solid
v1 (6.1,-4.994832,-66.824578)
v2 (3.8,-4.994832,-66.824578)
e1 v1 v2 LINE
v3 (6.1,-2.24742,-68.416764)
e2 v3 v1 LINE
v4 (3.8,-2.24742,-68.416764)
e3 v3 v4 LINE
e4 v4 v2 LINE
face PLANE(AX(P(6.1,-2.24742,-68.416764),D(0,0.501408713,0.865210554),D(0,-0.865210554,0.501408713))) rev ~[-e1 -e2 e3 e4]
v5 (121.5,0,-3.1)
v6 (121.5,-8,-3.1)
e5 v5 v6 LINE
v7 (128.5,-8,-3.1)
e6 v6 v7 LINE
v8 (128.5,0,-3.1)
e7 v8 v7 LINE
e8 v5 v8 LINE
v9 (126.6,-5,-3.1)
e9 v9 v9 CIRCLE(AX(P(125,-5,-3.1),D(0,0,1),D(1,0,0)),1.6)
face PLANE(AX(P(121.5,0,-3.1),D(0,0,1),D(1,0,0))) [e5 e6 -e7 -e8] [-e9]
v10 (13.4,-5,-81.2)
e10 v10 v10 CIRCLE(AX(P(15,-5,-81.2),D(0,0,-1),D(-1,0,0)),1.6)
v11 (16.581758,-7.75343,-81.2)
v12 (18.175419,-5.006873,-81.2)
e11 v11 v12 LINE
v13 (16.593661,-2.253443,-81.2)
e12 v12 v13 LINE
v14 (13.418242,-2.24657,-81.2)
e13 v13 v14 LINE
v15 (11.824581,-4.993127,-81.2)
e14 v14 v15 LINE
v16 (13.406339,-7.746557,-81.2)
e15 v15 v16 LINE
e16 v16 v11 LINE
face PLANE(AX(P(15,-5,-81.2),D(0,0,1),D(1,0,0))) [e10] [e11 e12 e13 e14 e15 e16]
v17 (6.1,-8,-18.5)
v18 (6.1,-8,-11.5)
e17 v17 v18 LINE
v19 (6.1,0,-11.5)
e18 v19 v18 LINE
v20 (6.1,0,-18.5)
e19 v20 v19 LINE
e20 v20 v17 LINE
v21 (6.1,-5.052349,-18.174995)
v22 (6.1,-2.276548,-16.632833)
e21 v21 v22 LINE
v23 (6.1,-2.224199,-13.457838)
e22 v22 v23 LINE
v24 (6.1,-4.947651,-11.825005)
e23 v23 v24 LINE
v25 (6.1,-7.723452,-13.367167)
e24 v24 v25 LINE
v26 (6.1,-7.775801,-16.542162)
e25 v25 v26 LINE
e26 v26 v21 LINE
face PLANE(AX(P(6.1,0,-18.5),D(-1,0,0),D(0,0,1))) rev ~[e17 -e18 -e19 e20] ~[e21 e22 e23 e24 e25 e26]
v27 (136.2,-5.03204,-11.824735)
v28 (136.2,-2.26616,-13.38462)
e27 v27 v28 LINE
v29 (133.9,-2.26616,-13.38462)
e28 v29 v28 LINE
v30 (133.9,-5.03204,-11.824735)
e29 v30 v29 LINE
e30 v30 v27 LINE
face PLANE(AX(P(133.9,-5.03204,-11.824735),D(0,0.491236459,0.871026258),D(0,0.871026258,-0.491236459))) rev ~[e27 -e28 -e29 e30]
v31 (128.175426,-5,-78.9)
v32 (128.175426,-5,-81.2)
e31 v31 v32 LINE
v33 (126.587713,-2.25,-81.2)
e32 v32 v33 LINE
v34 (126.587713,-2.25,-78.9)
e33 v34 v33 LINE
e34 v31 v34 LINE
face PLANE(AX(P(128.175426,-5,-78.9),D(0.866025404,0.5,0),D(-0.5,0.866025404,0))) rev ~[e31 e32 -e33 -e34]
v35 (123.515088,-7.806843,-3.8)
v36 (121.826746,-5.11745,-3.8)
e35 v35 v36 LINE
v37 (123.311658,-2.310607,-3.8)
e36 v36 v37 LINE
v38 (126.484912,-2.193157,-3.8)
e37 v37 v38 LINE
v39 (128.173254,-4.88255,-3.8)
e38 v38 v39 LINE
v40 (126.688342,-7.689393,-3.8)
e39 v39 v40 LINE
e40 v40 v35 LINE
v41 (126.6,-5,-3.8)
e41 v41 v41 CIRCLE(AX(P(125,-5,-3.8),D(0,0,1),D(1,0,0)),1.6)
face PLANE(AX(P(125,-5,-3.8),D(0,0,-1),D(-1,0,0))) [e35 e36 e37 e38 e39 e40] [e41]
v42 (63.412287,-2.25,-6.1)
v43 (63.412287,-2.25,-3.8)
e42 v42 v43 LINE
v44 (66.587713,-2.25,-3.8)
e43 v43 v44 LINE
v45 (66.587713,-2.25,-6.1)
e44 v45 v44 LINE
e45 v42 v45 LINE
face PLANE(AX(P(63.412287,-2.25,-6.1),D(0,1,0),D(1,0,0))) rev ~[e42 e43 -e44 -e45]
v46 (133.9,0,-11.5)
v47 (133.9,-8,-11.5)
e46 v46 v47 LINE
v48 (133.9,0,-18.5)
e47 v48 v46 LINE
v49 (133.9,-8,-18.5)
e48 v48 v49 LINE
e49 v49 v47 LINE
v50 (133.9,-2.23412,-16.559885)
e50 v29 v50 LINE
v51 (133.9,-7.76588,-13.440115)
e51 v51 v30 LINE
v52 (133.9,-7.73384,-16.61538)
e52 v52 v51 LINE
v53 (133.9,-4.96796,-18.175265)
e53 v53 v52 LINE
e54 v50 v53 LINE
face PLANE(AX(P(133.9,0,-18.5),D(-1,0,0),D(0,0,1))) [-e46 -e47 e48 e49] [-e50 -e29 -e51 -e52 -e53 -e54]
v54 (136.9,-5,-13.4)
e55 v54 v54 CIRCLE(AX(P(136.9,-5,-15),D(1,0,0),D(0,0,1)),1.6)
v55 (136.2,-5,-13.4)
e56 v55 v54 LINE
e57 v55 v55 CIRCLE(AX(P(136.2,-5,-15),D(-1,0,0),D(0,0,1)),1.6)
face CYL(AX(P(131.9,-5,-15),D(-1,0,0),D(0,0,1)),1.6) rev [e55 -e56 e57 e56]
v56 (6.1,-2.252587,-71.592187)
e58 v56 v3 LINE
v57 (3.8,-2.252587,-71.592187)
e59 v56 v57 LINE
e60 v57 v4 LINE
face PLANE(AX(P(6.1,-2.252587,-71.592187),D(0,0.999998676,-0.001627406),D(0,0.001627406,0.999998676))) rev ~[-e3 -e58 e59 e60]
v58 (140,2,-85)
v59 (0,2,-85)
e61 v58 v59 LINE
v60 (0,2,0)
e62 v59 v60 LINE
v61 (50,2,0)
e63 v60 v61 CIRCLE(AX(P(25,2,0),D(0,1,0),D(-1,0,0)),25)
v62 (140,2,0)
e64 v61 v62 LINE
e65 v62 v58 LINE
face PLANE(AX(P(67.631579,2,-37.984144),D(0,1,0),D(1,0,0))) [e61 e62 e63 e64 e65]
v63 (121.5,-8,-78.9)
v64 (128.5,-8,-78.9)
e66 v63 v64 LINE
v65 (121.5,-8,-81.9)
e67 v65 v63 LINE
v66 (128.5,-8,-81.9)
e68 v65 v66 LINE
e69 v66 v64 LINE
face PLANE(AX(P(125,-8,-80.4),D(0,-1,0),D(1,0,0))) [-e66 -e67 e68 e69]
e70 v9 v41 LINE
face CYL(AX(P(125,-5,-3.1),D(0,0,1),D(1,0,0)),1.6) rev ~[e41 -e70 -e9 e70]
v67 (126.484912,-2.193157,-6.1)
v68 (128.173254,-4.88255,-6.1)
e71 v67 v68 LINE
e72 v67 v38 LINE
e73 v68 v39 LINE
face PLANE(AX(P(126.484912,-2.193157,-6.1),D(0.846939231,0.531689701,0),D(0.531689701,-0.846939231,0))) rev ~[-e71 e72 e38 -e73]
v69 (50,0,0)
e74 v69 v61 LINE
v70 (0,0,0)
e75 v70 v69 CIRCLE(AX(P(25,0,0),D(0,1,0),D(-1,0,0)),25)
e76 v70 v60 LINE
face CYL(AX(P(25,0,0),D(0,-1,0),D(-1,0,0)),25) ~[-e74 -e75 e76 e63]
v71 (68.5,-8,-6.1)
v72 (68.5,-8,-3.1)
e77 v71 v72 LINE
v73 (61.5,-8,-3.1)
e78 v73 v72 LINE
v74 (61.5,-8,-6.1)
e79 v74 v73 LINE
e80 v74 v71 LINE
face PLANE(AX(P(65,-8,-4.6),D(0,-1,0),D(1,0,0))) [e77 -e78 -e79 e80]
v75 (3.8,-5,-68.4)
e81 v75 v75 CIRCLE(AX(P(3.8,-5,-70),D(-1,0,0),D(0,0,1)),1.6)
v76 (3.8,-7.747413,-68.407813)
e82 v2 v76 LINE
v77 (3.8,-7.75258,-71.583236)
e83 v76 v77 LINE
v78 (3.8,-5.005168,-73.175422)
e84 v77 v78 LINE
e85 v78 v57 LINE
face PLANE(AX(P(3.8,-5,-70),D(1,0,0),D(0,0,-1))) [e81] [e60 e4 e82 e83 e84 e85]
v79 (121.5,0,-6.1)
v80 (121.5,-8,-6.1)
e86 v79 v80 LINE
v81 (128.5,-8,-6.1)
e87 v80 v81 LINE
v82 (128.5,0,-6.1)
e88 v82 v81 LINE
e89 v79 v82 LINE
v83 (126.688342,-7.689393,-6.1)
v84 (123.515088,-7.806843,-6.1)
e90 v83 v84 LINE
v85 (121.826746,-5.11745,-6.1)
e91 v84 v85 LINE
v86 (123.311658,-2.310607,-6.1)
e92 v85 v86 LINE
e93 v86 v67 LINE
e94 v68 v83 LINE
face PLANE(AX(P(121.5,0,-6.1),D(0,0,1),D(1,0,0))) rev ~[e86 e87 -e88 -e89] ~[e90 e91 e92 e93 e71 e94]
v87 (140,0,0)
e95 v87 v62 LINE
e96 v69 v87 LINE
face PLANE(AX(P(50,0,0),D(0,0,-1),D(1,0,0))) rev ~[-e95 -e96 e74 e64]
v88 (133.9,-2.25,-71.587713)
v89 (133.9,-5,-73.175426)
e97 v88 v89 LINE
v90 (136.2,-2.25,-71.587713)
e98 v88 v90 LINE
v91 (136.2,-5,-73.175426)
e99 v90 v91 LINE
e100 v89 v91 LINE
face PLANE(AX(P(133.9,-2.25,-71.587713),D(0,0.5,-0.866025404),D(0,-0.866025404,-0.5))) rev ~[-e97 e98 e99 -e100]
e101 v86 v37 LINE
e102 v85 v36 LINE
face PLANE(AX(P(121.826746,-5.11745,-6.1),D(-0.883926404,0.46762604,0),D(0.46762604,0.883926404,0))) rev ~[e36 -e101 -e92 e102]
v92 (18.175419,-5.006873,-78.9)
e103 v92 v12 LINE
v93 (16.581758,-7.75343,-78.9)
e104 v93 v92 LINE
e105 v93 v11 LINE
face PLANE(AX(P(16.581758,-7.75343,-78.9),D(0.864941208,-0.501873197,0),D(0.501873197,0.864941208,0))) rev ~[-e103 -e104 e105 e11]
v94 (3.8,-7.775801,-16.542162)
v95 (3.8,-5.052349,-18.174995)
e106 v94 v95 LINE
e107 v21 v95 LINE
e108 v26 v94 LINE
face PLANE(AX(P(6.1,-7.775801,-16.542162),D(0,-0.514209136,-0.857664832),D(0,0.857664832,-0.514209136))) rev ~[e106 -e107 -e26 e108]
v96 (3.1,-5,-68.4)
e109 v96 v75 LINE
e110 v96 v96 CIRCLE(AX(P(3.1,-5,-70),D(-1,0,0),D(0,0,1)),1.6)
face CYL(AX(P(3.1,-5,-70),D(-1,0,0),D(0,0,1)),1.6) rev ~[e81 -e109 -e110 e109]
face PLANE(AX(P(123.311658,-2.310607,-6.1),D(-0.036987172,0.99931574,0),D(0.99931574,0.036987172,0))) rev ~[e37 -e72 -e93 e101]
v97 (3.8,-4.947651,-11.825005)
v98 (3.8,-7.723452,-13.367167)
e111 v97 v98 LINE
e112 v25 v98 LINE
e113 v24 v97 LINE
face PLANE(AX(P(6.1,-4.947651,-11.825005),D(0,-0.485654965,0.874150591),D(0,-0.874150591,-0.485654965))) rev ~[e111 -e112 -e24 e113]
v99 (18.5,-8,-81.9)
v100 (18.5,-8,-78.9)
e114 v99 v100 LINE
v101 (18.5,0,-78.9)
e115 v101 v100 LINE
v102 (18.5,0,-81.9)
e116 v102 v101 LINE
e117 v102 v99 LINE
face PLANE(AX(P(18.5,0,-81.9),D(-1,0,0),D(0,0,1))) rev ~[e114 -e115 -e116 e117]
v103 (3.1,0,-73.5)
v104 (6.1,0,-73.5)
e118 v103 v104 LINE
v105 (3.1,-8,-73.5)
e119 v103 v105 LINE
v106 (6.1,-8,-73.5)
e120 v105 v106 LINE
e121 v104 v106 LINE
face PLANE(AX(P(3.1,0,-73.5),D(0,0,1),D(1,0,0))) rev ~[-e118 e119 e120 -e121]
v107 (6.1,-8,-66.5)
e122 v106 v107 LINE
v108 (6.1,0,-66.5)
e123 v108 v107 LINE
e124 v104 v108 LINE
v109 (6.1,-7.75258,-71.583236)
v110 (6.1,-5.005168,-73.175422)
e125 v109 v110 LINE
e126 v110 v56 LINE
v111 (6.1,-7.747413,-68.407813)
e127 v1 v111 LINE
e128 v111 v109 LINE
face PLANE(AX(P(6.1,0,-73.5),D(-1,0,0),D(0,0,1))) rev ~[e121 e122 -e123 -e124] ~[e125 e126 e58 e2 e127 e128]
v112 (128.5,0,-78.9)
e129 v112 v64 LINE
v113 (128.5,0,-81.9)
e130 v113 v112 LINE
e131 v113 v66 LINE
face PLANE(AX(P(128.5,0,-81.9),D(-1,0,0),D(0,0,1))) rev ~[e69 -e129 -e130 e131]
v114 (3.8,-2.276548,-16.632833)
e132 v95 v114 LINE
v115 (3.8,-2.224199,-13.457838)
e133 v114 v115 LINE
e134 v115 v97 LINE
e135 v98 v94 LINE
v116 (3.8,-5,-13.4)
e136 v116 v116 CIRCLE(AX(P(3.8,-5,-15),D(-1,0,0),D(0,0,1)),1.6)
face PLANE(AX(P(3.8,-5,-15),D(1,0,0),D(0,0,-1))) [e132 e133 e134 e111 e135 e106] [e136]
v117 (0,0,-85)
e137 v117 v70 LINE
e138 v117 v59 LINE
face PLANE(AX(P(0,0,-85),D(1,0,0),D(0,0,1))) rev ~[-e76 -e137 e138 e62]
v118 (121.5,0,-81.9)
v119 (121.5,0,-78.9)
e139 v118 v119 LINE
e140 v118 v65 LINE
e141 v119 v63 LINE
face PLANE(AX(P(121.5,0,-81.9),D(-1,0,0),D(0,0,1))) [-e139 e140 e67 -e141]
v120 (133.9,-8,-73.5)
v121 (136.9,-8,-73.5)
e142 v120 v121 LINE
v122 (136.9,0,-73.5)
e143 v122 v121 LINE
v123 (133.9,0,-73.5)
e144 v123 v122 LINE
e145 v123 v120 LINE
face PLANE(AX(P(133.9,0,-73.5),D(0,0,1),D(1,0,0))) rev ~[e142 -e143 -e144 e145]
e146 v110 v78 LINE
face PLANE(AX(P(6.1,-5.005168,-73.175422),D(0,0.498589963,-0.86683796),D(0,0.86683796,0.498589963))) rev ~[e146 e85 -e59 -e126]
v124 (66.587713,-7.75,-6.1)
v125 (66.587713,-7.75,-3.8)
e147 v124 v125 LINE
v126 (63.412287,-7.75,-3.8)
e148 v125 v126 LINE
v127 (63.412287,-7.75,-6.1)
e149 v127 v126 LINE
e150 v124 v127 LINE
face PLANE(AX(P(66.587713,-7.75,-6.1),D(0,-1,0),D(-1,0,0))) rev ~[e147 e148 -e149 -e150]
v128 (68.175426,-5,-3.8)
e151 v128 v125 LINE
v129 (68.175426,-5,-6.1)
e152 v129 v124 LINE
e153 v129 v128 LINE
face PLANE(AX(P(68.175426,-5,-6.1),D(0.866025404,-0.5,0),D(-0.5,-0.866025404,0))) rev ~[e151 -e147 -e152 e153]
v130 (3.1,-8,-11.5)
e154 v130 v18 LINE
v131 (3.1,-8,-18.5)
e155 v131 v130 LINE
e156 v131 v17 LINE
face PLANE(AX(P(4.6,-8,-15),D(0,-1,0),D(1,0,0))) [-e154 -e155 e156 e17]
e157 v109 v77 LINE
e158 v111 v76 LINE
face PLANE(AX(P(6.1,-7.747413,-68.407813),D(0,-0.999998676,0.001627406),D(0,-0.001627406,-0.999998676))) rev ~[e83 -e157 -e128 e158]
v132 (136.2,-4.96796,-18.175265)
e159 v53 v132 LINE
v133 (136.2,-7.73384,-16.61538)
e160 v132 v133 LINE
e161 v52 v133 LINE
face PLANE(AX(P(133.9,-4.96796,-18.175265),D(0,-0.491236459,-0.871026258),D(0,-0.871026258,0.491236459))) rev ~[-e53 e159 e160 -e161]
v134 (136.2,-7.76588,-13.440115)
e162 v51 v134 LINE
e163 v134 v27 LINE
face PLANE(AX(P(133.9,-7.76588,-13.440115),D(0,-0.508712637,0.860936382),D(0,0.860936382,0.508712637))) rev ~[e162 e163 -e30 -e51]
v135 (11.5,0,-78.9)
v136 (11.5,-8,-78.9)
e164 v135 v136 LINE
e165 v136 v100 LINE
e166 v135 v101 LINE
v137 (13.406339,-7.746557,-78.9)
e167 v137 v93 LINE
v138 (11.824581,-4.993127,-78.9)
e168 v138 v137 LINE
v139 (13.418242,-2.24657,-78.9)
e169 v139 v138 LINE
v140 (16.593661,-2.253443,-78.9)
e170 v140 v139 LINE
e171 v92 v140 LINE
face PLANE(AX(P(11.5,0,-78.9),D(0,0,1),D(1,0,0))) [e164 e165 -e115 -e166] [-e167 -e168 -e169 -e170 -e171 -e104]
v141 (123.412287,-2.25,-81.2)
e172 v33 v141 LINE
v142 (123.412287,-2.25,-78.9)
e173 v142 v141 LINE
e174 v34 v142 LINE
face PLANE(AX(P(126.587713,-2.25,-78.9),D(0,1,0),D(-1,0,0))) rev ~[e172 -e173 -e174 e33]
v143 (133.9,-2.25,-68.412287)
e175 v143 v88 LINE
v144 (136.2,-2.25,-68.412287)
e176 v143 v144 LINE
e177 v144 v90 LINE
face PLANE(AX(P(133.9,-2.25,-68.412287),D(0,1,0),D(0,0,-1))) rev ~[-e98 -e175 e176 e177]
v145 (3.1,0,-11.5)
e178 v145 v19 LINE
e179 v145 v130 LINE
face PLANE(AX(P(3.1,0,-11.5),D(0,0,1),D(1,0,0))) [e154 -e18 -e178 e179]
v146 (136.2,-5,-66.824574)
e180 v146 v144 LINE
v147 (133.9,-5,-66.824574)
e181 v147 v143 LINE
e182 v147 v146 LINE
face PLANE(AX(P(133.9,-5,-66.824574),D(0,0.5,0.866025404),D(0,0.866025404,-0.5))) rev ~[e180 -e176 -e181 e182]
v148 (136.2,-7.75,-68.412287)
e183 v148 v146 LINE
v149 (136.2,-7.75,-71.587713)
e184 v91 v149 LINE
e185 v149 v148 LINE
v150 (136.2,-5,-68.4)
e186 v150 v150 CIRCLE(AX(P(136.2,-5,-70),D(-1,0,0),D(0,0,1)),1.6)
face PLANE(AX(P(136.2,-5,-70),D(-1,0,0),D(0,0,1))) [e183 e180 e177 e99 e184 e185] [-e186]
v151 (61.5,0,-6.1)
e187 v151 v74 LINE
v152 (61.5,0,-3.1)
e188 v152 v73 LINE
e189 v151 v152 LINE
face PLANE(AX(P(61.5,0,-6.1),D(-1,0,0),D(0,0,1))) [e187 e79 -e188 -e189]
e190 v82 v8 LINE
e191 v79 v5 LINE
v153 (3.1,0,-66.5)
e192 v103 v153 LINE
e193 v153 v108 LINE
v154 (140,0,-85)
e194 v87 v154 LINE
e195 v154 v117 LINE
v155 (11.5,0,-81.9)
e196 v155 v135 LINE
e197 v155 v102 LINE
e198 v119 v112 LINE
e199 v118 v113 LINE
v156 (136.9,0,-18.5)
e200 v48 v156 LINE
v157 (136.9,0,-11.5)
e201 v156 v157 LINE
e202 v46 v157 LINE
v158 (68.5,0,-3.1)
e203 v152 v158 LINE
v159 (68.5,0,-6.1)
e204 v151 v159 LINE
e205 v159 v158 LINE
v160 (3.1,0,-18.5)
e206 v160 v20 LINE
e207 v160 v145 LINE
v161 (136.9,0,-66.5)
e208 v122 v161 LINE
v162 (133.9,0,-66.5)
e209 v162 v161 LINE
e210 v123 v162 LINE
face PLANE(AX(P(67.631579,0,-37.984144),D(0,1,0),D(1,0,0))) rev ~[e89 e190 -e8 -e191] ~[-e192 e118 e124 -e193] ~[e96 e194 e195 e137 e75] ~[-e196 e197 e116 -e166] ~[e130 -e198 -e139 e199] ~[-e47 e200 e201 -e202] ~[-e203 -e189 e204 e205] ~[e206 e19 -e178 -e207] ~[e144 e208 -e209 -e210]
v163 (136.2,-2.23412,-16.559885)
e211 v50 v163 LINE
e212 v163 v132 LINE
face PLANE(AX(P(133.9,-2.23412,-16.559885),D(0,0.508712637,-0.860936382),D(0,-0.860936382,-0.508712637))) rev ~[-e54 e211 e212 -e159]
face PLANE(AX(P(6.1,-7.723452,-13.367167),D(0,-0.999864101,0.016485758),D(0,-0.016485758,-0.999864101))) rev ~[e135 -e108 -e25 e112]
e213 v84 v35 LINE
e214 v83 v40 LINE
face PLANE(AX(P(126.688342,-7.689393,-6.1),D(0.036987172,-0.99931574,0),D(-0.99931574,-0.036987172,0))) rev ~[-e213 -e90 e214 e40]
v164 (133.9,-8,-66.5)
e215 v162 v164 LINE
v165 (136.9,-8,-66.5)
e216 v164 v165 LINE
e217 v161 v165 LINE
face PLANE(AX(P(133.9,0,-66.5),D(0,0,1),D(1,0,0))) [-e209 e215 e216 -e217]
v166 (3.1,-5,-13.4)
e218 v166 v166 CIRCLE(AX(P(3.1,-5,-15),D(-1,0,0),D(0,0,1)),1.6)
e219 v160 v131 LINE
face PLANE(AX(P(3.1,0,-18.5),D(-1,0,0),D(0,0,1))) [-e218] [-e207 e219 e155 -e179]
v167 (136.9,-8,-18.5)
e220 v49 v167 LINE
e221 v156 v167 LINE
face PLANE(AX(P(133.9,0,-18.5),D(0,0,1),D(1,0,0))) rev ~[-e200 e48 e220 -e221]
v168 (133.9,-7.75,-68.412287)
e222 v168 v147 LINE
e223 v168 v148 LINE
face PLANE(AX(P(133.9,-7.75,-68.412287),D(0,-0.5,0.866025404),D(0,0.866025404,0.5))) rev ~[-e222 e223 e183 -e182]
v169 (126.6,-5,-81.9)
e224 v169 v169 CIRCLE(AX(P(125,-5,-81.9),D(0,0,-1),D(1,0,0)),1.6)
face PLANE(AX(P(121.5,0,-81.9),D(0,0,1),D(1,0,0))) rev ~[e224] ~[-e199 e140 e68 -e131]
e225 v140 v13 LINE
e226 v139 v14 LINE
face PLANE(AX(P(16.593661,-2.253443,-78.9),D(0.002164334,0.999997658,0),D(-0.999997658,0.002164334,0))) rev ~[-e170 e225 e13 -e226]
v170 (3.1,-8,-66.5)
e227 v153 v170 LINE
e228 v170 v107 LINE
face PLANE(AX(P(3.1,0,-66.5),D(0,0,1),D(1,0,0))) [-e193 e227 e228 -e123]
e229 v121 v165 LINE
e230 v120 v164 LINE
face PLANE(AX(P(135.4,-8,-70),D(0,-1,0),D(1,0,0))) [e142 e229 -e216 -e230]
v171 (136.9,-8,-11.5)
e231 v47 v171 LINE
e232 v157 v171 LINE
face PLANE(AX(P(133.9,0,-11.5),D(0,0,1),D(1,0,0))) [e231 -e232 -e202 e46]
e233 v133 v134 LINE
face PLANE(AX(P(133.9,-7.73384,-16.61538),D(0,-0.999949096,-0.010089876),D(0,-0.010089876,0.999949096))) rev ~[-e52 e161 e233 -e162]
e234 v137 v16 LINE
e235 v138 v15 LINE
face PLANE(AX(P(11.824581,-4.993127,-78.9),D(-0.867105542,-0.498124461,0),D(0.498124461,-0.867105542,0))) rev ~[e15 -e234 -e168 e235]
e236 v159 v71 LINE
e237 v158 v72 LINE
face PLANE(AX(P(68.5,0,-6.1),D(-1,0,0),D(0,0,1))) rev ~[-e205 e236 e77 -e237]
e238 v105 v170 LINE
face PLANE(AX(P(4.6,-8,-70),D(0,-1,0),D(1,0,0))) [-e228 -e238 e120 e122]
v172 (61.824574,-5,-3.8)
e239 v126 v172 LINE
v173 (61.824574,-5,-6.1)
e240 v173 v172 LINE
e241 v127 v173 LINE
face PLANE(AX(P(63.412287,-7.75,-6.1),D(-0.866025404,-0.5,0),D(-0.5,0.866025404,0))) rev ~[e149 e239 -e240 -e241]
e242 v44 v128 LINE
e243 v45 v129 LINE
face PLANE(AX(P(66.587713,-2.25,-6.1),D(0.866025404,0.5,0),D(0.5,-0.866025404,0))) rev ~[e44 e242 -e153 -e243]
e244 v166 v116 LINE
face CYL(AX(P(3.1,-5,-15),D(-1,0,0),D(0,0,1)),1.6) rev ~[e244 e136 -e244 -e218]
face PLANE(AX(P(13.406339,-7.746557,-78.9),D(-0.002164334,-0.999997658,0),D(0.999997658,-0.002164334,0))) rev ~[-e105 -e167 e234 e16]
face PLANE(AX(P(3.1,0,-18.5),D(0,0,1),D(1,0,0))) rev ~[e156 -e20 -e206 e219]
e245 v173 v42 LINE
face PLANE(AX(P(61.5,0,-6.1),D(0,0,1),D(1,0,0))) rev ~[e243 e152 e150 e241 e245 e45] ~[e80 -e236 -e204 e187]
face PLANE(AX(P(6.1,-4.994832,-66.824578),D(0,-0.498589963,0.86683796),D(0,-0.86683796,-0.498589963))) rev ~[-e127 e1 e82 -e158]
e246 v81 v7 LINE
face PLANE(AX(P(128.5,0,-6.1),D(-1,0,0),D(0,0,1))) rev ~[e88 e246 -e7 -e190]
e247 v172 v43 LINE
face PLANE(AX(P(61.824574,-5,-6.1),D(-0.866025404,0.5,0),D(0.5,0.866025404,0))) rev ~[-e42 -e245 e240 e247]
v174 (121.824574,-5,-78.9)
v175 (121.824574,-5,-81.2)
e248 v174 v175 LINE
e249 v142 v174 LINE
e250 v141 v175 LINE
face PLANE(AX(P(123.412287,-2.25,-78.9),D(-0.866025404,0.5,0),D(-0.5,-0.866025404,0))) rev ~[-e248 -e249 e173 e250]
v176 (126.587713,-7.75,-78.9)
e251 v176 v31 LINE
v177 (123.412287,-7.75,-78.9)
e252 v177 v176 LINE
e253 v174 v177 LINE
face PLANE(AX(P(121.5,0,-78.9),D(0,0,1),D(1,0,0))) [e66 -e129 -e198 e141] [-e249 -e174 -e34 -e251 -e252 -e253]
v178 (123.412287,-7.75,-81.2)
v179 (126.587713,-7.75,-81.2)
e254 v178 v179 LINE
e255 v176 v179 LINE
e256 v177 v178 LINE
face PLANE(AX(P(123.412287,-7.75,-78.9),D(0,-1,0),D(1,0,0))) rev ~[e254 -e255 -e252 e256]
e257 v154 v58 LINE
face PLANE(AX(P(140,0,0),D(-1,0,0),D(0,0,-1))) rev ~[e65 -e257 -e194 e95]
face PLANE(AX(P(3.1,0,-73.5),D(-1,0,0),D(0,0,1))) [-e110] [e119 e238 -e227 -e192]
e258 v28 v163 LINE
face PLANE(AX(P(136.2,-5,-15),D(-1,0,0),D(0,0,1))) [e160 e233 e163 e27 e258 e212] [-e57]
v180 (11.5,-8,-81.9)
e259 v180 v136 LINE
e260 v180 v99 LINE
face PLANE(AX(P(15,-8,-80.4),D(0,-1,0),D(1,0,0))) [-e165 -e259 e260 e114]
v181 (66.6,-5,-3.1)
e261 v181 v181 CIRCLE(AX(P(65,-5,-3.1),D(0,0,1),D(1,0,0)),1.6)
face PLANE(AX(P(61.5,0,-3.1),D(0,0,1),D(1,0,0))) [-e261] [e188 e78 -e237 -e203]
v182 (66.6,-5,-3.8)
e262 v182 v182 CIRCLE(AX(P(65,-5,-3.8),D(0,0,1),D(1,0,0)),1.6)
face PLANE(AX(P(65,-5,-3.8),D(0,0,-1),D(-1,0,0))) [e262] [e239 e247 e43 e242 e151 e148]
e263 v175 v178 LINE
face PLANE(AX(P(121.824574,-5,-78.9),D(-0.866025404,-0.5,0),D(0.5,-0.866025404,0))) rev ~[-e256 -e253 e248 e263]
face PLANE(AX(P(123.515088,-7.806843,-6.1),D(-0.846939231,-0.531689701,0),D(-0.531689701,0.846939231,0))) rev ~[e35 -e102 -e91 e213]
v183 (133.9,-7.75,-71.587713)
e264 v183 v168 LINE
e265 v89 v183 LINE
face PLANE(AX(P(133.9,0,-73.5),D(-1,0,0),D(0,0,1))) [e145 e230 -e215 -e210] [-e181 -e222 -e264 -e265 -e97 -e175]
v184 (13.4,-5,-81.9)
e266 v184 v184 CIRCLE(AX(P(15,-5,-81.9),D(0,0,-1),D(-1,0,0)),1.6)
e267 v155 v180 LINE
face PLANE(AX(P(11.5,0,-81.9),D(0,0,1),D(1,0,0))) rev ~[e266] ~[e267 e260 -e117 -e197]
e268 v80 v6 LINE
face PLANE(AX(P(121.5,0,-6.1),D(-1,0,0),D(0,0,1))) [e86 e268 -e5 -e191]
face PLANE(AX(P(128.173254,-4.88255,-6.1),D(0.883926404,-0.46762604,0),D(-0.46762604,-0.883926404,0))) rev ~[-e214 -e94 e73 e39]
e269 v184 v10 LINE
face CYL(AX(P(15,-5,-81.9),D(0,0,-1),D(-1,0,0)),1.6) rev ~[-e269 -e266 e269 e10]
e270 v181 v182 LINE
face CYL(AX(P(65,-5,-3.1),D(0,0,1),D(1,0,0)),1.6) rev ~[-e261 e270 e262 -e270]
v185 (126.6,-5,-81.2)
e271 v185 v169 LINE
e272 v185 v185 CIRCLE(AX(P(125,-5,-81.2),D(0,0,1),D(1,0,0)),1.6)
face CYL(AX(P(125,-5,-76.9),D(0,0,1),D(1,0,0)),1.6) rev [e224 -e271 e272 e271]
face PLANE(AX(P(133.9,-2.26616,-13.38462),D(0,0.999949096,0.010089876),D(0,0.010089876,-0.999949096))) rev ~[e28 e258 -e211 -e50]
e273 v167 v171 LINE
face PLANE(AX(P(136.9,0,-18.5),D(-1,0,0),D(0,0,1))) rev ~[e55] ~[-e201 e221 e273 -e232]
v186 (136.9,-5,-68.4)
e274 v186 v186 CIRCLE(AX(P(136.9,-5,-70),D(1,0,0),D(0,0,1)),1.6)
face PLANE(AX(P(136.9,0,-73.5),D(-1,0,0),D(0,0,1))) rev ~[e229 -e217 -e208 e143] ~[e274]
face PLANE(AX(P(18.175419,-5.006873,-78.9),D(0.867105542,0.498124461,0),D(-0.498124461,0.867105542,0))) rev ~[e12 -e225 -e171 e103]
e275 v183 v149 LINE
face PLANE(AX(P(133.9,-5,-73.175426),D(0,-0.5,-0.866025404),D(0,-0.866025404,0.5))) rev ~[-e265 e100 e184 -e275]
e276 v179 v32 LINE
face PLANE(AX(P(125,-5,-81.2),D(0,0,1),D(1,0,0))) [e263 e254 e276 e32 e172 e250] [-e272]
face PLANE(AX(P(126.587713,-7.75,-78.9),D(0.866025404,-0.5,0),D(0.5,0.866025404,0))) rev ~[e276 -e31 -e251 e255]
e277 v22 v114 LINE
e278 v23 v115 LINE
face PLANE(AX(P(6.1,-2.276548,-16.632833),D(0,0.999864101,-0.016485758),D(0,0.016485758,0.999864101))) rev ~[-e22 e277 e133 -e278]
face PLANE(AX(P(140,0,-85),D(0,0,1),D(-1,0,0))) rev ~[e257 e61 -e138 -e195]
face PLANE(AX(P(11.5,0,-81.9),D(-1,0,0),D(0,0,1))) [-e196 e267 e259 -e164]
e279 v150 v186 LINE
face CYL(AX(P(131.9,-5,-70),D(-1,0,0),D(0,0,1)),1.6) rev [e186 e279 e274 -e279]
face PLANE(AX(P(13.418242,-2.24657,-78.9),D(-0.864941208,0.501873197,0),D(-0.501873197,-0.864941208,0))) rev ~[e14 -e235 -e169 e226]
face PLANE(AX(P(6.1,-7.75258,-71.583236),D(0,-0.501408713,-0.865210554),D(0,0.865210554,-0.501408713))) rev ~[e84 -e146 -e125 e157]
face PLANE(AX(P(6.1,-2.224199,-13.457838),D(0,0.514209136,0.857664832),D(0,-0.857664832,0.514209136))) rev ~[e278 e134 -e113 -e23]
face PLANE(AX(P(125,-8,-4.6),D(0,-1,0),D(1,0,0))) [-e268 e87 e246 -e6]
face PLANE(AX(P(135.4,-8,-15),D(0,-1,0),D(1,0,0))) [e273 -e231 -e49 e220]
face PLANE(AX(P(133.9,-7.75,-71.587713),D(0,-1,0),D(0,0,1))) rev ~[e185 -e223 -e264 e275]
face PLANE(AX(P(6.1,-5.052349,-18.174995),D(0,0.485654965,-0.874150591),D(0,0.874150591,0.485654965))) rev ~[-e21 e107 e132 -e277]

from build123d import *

# Parameters (mm, degrees)
Y_KSEKLIK_EKSTR_ZYON1_DEPTH = 2
IZIM2_W                     = 7
IZIM2_H                     = 3
IZIM2_W_2                   = 3
IZIM2_H_2                   = 7
Y_KSEKLIK_EKSTR_ZYON2_DEPTH = 8
KES_EKSTR_ZYON1_DEPTH       = 2.3
KES_EKSTR_ZYON2_DEPTH       = 2.3
KES_EKSTR_ZYON3_DEPTH       = 2.3
KES_EKSTR_ZYON4_DEPTH       = 2.3
KES_EKSTR_ZYON5_DEPTH       = 2.3
KES_EKSTR_ZYON7_DEPTH       = 2.3
KES_EKSTR_ZYON9_DEPTH       = 2.3
KES_EKSTR_ZYON10_DEPTH      = 2.3
IZIM15_R                    = 1.6
KES_EKSTR_ZYON11_DEPTH      = 5
IZIM16_R                    = 1.6
KES_EKSTR_ZYON12_DEPTH      = 5
IZIM17_R                    = 1.6
KES_EKSTR_ZYON13_DEPTH      = 5
IZIM18_R                    = 1.6
KES_EKSTR_ZYON14_DEPTH      = 5
IZIM19_R                    = 1.6
KES_EKSTR_ZYON15_DEPTH      = 5
KES_EKSTR_ZYON16_START      = -5
IZIM20_R                    = 1.6
KES_EKSTR_ZYON16_DEPTH      = 5
KES_EKSTR_ZYON17_START      = -5
IZIM21_R                    = 1.6
KES_EKSTR_ZYON17_DEPTH      = 5
KES_EKSTR_ZYON18_START      = -5
IZIM22_R                    = 1.6
KES_EKSTR_ZYON18_DEPTH      = 5


with BuildPart() as part:
    # Çizim1 → Yükseklik-Ekstrüzyon1 (new body)
    with BuildSketch(Plane(origin=(0, 0, 0), x_dir=(1, 0, 0), z_dir=(0, 1, 0))):
        with BuildLine():
            Line((50, 0), (140, 0))
            Line((140, 0), (140, 85))
            Line((140, 85), (0, 85))
            Line((0, 85), (0, 0))
            ThreePointArc((0, 0), (25, -25), (50, 0))
        make_face()
    extrude(amount=Y_KSEKLIK_EKSTR_ZYON1_DEPTH)

    # Çizim2 → Yükseklik-Ekstrüzyon2 (add)
    with BuildSketch(Plane.XZ):
        with Locations((15, -80.4)):
            Rectangle(IZIM2_W, IZIM2_H)
        with Locations((125, -80.4)):
            Rectangle(IZIM2_W, IZIM2_H)
        with Locations((4.6, -70)):
            Rectangle(IZIM2_W_2, IZIM2_H_2)
        with Locations((4.6, -15)):
            Rectangle(IZIM2_W_2, IZIM2_H_2)
        with Locations((135.4, -70)):
            Rectangle(IZIM2_W_2, IZIM2_H_2)
        with Locations((135.4, -15)):
            Rectangle(IZIM2_W_2, IZIM2_H_2)
        with Locations((125, -4.6)):
            Rectangle(IZIM2_W, IZIM2_H)
        with Locations((65, -4.6)):
            Rectangle(IZIM2_W, IZIM2_H)
    extrude(amount=Y_KSEKLIK_EKSTR_ZYON2_DEPTH)

    # Çizim3 → Kes-Ekstrüzyon1 (cut)
    with BuildSketch(Plane(origin=(0, 0, -6.1), x_dir=(-1, 0, 0), z_dir=(0, 0, -1))):
        Polygon((-68.175426481, -5), (-66.58771324, -7.75), (-63.41228676, -7.75), (-61.824573519, -5), (-63.41228676, -2.25), (-66.58771324, -2.25), align=None)
    extrude(amount=-KES_EKSTR_ZYON1_DEPTH, mode=Mode.SUBTRACT)

    # Çizim4 → Kes-Ekstrüzyon2 (cut)
    with BuildSketch(Plane(origin=(0, 0, -6.1), x_dir=(-1, 0, 0), z_dir=(0, 0, -1))):
        Polygon((-126.484912109, -2.193156691), (-128.173253665, -4.882549954), (-126.688341556, -7.689393263), (-123.515087891, -7.806843309), (-121.826746335, -5.117450046), (-123.311658444, -2.310606737), align=None)
    extrude(amount=-KES_EKSTR_ZYON2_DEPTH, mode=Mode.SUBTRACT)

    # Çizim5 → Kes-Ekstrüzyon3 (cut)
    with BuildSketch(Plane(origin=(6.1, 0, 0), x_dir=(0, 0, -1), z_dir=(1, 0, 0))):
        Polygon((13.457838364, -2.224199067), (11.825005058, -4.947650687), (13.367166694, -7.72345162), (16.542161636, -7.775800933), (18.174994942, -5.052349313), (16.632833306, -2.27654838), align=None)
    extrude(amount=-KES_EKSTR_ZYON3_DEPTH, mode=Mode.SUBTRACT)

    # Çizim6 → Kes-Ekstrüzyon4 (cut)
    with BuildSketch(Plane(origin=(6.1, 0, 0), x_dir=(0, 0, -1), z_dir=(1, 0, 0))):
        Polygon((68.416764228, -2.247419788), (66.824577724, -4.994832293), (68.407813496, -7.747412505), (71.583235772, -7.752580212), (73.175422276, -5.005167707), (71.592186504, -2.252587495), align=None)
    extrude(amount=-KES_EKSTR_ZYON4_DEPTH, mode=Mode.SUBTRACT)

    # Çizim7 → Kes-Ekstrüzyon5 (cut)
    with BuildSketch(Plane.XY.offset(-78.9)):
        Polygon((13.418242397, -2.246570099), (11.824580957, -4.993127316), (13.40633856, -7.746557217), (16.581757603, -7.753429901), (18.175419043, -5.006872684), (16.59366144, -2.253442783), align=None)
    extrude(amount=-KES_EKSTR_ZYON5_DEPTH, mode=Mode.SUBTRACT)

    # Çizim9 → Kes-Ekstrüzyon7 (cut)
    with BuildSketch(Plane.ZY.offset(-133.9)):
        Polygon((-16.559885261, -2.234120157), (-18.175264838, -4.967960341), (-16.615379578, -7.733840184), (-13.440114739, -7.765879843), (-11.824735162, -5.032039659), (-13.384620422, -2.266159816), align=None)
    extrude(amount=-KES_EKSTR_ZYON7_DEPTH, mode=Mode.SUBTRACT)

    # Çizim11 → Kes-Ekstrüzyon9 (cut)
    with BuildSketch(Plane.ZY.offset(-133.9)):
        Polygon((-71.58771324, -2.25), (-73.175426481, -5), (-71.58771324, -7.75), (-68.41228676, -7.75), (-66.824573519, -5), (-68.41228676, -2.25), align=None)
    extrude(amount=-KES_EKSTR_ZYON9_DEPTH, mode=Mode.SUBTRACT)

    # Çizim12 → Kes-Ekstrüzyon10 (cut)
    with BuildSketch(Plane.XY.offset(-78.9)):
        Polygon((123.41228676, -2.25), (121.824573519, -5), (123.41228676, -7.75), (126.58771324, -7.75), (128.175426481, -5), (126.58771324, -2.25), align=None)
    extrude(amount=-KES_EKSTR_ZYON10_DEPTH, mode=Mode.SUBTRACT)

    # Çizim15 → Kes-Ekstrüzyon11 (cut)
    with BuildSketch(Plane.XY.offset(-3.1)):
        with Locations((125, -5)):
            Circle(IZIM15_R)
    extrude(amount=-KES_EKSTR_ZYON11_DEPTH, mode=Mode.SUBTRACT)

    # Çizim16 → Kes-Ekstrüzyon12 (cut)
    with BuildSketch(Plane.XY.offset(-3.1)):
        with Locations((65, -5)):
            Circle(IZIM16_R)
    extrude(amount=-KES_EKSTR_ZYON12_DEPTH, mode=Mode.SUBTRACT)

    # Çizim17 → Kes-Ekstrüzyon13 (cut)
    with BuildSketch(Plane.ZY.offset(-3.1)):
        with Locations((-15, -5)):
            Circle(IZIM17_R)
    extrude(amount=-KES_EKSTR_ZYON13_DEPTH, mode=Mode.SUBTRACT)

    # Çizim18 → Kes-Ekstrüzyon14 (cut)
    with BuildSketch(Plane.ZY.offset(-3.1)):
        with Locations((-70, -5)):
            Circle(IZIM18_R)
    extrude(amount=-KES_EKSTR_ZYON14_DEPTH, mode=Mode.SUBTRACT)

    # Çizim19 → Kes-Ekstrüzyon15 (cut)
    with BuildSketch(Plane(origin=(0, 0, -81.9), x_dir=(-1, 0, 0), z_dir=(0, 0, -1))):
        with Locations((-15, -5)):
            Circle(IZIM19_R)
    extrude(amount=-KES_EKSTR_ZYON15_DEPTH, mode=Mode.SUBTRACT)

    # Çizim20 → Kes-Ekstrüzyon16 (cut)
    with BuildSketch(Plane(origin=(0, 0, -81.9), x_dir=(-1, 0, 0), z_dir=(0, 0, -1)).offset(KES_EKSTR_ZYON16_START)):
        with Locations(Location((-125, -5, 0), (0, 0, 180))):
            Circle(IZIM20_R)
    extrude(amount=KES_EKSTR_ZYON16_DEPTH, mode=Mode.SUBTRACT)

    # Çizim21 → Kes-Ekstrüzyon17 (cut)
    with BuildSketch(Plane(origin=(136.9, 0, 0), x_dir=(0, 0, -1), z_dir=(1, 0, 0)).offset(KES_EKSTR_ZYON17_START)):
        with Locations(Location((70, -5, 0), (0, 0, 180))):
            Circle(IZIM21_R)
    extrude(amount=KES_EKSTR_ZYON17_DEPTH, mode=Mode.SUBTRACT)

    # Çizim22 → Kes-Ekstrüzyon18 (cut)
    with BuildSketch(Plane(origin=(136.9, 0, 0), x_dir=(0, 0, -1), z_dir=(1, 0, 0)).offset(KES_EKSTR_ZYON18_START)):
        with Locations(Location((15, -5, 0), (0, 0, 180))):
            Circle(IZIM22_R)
    extrude(amount=KES_EKSTR_ZYON18_DEPTH, mode=Mode.SUBTRACT)


solid = part.part
